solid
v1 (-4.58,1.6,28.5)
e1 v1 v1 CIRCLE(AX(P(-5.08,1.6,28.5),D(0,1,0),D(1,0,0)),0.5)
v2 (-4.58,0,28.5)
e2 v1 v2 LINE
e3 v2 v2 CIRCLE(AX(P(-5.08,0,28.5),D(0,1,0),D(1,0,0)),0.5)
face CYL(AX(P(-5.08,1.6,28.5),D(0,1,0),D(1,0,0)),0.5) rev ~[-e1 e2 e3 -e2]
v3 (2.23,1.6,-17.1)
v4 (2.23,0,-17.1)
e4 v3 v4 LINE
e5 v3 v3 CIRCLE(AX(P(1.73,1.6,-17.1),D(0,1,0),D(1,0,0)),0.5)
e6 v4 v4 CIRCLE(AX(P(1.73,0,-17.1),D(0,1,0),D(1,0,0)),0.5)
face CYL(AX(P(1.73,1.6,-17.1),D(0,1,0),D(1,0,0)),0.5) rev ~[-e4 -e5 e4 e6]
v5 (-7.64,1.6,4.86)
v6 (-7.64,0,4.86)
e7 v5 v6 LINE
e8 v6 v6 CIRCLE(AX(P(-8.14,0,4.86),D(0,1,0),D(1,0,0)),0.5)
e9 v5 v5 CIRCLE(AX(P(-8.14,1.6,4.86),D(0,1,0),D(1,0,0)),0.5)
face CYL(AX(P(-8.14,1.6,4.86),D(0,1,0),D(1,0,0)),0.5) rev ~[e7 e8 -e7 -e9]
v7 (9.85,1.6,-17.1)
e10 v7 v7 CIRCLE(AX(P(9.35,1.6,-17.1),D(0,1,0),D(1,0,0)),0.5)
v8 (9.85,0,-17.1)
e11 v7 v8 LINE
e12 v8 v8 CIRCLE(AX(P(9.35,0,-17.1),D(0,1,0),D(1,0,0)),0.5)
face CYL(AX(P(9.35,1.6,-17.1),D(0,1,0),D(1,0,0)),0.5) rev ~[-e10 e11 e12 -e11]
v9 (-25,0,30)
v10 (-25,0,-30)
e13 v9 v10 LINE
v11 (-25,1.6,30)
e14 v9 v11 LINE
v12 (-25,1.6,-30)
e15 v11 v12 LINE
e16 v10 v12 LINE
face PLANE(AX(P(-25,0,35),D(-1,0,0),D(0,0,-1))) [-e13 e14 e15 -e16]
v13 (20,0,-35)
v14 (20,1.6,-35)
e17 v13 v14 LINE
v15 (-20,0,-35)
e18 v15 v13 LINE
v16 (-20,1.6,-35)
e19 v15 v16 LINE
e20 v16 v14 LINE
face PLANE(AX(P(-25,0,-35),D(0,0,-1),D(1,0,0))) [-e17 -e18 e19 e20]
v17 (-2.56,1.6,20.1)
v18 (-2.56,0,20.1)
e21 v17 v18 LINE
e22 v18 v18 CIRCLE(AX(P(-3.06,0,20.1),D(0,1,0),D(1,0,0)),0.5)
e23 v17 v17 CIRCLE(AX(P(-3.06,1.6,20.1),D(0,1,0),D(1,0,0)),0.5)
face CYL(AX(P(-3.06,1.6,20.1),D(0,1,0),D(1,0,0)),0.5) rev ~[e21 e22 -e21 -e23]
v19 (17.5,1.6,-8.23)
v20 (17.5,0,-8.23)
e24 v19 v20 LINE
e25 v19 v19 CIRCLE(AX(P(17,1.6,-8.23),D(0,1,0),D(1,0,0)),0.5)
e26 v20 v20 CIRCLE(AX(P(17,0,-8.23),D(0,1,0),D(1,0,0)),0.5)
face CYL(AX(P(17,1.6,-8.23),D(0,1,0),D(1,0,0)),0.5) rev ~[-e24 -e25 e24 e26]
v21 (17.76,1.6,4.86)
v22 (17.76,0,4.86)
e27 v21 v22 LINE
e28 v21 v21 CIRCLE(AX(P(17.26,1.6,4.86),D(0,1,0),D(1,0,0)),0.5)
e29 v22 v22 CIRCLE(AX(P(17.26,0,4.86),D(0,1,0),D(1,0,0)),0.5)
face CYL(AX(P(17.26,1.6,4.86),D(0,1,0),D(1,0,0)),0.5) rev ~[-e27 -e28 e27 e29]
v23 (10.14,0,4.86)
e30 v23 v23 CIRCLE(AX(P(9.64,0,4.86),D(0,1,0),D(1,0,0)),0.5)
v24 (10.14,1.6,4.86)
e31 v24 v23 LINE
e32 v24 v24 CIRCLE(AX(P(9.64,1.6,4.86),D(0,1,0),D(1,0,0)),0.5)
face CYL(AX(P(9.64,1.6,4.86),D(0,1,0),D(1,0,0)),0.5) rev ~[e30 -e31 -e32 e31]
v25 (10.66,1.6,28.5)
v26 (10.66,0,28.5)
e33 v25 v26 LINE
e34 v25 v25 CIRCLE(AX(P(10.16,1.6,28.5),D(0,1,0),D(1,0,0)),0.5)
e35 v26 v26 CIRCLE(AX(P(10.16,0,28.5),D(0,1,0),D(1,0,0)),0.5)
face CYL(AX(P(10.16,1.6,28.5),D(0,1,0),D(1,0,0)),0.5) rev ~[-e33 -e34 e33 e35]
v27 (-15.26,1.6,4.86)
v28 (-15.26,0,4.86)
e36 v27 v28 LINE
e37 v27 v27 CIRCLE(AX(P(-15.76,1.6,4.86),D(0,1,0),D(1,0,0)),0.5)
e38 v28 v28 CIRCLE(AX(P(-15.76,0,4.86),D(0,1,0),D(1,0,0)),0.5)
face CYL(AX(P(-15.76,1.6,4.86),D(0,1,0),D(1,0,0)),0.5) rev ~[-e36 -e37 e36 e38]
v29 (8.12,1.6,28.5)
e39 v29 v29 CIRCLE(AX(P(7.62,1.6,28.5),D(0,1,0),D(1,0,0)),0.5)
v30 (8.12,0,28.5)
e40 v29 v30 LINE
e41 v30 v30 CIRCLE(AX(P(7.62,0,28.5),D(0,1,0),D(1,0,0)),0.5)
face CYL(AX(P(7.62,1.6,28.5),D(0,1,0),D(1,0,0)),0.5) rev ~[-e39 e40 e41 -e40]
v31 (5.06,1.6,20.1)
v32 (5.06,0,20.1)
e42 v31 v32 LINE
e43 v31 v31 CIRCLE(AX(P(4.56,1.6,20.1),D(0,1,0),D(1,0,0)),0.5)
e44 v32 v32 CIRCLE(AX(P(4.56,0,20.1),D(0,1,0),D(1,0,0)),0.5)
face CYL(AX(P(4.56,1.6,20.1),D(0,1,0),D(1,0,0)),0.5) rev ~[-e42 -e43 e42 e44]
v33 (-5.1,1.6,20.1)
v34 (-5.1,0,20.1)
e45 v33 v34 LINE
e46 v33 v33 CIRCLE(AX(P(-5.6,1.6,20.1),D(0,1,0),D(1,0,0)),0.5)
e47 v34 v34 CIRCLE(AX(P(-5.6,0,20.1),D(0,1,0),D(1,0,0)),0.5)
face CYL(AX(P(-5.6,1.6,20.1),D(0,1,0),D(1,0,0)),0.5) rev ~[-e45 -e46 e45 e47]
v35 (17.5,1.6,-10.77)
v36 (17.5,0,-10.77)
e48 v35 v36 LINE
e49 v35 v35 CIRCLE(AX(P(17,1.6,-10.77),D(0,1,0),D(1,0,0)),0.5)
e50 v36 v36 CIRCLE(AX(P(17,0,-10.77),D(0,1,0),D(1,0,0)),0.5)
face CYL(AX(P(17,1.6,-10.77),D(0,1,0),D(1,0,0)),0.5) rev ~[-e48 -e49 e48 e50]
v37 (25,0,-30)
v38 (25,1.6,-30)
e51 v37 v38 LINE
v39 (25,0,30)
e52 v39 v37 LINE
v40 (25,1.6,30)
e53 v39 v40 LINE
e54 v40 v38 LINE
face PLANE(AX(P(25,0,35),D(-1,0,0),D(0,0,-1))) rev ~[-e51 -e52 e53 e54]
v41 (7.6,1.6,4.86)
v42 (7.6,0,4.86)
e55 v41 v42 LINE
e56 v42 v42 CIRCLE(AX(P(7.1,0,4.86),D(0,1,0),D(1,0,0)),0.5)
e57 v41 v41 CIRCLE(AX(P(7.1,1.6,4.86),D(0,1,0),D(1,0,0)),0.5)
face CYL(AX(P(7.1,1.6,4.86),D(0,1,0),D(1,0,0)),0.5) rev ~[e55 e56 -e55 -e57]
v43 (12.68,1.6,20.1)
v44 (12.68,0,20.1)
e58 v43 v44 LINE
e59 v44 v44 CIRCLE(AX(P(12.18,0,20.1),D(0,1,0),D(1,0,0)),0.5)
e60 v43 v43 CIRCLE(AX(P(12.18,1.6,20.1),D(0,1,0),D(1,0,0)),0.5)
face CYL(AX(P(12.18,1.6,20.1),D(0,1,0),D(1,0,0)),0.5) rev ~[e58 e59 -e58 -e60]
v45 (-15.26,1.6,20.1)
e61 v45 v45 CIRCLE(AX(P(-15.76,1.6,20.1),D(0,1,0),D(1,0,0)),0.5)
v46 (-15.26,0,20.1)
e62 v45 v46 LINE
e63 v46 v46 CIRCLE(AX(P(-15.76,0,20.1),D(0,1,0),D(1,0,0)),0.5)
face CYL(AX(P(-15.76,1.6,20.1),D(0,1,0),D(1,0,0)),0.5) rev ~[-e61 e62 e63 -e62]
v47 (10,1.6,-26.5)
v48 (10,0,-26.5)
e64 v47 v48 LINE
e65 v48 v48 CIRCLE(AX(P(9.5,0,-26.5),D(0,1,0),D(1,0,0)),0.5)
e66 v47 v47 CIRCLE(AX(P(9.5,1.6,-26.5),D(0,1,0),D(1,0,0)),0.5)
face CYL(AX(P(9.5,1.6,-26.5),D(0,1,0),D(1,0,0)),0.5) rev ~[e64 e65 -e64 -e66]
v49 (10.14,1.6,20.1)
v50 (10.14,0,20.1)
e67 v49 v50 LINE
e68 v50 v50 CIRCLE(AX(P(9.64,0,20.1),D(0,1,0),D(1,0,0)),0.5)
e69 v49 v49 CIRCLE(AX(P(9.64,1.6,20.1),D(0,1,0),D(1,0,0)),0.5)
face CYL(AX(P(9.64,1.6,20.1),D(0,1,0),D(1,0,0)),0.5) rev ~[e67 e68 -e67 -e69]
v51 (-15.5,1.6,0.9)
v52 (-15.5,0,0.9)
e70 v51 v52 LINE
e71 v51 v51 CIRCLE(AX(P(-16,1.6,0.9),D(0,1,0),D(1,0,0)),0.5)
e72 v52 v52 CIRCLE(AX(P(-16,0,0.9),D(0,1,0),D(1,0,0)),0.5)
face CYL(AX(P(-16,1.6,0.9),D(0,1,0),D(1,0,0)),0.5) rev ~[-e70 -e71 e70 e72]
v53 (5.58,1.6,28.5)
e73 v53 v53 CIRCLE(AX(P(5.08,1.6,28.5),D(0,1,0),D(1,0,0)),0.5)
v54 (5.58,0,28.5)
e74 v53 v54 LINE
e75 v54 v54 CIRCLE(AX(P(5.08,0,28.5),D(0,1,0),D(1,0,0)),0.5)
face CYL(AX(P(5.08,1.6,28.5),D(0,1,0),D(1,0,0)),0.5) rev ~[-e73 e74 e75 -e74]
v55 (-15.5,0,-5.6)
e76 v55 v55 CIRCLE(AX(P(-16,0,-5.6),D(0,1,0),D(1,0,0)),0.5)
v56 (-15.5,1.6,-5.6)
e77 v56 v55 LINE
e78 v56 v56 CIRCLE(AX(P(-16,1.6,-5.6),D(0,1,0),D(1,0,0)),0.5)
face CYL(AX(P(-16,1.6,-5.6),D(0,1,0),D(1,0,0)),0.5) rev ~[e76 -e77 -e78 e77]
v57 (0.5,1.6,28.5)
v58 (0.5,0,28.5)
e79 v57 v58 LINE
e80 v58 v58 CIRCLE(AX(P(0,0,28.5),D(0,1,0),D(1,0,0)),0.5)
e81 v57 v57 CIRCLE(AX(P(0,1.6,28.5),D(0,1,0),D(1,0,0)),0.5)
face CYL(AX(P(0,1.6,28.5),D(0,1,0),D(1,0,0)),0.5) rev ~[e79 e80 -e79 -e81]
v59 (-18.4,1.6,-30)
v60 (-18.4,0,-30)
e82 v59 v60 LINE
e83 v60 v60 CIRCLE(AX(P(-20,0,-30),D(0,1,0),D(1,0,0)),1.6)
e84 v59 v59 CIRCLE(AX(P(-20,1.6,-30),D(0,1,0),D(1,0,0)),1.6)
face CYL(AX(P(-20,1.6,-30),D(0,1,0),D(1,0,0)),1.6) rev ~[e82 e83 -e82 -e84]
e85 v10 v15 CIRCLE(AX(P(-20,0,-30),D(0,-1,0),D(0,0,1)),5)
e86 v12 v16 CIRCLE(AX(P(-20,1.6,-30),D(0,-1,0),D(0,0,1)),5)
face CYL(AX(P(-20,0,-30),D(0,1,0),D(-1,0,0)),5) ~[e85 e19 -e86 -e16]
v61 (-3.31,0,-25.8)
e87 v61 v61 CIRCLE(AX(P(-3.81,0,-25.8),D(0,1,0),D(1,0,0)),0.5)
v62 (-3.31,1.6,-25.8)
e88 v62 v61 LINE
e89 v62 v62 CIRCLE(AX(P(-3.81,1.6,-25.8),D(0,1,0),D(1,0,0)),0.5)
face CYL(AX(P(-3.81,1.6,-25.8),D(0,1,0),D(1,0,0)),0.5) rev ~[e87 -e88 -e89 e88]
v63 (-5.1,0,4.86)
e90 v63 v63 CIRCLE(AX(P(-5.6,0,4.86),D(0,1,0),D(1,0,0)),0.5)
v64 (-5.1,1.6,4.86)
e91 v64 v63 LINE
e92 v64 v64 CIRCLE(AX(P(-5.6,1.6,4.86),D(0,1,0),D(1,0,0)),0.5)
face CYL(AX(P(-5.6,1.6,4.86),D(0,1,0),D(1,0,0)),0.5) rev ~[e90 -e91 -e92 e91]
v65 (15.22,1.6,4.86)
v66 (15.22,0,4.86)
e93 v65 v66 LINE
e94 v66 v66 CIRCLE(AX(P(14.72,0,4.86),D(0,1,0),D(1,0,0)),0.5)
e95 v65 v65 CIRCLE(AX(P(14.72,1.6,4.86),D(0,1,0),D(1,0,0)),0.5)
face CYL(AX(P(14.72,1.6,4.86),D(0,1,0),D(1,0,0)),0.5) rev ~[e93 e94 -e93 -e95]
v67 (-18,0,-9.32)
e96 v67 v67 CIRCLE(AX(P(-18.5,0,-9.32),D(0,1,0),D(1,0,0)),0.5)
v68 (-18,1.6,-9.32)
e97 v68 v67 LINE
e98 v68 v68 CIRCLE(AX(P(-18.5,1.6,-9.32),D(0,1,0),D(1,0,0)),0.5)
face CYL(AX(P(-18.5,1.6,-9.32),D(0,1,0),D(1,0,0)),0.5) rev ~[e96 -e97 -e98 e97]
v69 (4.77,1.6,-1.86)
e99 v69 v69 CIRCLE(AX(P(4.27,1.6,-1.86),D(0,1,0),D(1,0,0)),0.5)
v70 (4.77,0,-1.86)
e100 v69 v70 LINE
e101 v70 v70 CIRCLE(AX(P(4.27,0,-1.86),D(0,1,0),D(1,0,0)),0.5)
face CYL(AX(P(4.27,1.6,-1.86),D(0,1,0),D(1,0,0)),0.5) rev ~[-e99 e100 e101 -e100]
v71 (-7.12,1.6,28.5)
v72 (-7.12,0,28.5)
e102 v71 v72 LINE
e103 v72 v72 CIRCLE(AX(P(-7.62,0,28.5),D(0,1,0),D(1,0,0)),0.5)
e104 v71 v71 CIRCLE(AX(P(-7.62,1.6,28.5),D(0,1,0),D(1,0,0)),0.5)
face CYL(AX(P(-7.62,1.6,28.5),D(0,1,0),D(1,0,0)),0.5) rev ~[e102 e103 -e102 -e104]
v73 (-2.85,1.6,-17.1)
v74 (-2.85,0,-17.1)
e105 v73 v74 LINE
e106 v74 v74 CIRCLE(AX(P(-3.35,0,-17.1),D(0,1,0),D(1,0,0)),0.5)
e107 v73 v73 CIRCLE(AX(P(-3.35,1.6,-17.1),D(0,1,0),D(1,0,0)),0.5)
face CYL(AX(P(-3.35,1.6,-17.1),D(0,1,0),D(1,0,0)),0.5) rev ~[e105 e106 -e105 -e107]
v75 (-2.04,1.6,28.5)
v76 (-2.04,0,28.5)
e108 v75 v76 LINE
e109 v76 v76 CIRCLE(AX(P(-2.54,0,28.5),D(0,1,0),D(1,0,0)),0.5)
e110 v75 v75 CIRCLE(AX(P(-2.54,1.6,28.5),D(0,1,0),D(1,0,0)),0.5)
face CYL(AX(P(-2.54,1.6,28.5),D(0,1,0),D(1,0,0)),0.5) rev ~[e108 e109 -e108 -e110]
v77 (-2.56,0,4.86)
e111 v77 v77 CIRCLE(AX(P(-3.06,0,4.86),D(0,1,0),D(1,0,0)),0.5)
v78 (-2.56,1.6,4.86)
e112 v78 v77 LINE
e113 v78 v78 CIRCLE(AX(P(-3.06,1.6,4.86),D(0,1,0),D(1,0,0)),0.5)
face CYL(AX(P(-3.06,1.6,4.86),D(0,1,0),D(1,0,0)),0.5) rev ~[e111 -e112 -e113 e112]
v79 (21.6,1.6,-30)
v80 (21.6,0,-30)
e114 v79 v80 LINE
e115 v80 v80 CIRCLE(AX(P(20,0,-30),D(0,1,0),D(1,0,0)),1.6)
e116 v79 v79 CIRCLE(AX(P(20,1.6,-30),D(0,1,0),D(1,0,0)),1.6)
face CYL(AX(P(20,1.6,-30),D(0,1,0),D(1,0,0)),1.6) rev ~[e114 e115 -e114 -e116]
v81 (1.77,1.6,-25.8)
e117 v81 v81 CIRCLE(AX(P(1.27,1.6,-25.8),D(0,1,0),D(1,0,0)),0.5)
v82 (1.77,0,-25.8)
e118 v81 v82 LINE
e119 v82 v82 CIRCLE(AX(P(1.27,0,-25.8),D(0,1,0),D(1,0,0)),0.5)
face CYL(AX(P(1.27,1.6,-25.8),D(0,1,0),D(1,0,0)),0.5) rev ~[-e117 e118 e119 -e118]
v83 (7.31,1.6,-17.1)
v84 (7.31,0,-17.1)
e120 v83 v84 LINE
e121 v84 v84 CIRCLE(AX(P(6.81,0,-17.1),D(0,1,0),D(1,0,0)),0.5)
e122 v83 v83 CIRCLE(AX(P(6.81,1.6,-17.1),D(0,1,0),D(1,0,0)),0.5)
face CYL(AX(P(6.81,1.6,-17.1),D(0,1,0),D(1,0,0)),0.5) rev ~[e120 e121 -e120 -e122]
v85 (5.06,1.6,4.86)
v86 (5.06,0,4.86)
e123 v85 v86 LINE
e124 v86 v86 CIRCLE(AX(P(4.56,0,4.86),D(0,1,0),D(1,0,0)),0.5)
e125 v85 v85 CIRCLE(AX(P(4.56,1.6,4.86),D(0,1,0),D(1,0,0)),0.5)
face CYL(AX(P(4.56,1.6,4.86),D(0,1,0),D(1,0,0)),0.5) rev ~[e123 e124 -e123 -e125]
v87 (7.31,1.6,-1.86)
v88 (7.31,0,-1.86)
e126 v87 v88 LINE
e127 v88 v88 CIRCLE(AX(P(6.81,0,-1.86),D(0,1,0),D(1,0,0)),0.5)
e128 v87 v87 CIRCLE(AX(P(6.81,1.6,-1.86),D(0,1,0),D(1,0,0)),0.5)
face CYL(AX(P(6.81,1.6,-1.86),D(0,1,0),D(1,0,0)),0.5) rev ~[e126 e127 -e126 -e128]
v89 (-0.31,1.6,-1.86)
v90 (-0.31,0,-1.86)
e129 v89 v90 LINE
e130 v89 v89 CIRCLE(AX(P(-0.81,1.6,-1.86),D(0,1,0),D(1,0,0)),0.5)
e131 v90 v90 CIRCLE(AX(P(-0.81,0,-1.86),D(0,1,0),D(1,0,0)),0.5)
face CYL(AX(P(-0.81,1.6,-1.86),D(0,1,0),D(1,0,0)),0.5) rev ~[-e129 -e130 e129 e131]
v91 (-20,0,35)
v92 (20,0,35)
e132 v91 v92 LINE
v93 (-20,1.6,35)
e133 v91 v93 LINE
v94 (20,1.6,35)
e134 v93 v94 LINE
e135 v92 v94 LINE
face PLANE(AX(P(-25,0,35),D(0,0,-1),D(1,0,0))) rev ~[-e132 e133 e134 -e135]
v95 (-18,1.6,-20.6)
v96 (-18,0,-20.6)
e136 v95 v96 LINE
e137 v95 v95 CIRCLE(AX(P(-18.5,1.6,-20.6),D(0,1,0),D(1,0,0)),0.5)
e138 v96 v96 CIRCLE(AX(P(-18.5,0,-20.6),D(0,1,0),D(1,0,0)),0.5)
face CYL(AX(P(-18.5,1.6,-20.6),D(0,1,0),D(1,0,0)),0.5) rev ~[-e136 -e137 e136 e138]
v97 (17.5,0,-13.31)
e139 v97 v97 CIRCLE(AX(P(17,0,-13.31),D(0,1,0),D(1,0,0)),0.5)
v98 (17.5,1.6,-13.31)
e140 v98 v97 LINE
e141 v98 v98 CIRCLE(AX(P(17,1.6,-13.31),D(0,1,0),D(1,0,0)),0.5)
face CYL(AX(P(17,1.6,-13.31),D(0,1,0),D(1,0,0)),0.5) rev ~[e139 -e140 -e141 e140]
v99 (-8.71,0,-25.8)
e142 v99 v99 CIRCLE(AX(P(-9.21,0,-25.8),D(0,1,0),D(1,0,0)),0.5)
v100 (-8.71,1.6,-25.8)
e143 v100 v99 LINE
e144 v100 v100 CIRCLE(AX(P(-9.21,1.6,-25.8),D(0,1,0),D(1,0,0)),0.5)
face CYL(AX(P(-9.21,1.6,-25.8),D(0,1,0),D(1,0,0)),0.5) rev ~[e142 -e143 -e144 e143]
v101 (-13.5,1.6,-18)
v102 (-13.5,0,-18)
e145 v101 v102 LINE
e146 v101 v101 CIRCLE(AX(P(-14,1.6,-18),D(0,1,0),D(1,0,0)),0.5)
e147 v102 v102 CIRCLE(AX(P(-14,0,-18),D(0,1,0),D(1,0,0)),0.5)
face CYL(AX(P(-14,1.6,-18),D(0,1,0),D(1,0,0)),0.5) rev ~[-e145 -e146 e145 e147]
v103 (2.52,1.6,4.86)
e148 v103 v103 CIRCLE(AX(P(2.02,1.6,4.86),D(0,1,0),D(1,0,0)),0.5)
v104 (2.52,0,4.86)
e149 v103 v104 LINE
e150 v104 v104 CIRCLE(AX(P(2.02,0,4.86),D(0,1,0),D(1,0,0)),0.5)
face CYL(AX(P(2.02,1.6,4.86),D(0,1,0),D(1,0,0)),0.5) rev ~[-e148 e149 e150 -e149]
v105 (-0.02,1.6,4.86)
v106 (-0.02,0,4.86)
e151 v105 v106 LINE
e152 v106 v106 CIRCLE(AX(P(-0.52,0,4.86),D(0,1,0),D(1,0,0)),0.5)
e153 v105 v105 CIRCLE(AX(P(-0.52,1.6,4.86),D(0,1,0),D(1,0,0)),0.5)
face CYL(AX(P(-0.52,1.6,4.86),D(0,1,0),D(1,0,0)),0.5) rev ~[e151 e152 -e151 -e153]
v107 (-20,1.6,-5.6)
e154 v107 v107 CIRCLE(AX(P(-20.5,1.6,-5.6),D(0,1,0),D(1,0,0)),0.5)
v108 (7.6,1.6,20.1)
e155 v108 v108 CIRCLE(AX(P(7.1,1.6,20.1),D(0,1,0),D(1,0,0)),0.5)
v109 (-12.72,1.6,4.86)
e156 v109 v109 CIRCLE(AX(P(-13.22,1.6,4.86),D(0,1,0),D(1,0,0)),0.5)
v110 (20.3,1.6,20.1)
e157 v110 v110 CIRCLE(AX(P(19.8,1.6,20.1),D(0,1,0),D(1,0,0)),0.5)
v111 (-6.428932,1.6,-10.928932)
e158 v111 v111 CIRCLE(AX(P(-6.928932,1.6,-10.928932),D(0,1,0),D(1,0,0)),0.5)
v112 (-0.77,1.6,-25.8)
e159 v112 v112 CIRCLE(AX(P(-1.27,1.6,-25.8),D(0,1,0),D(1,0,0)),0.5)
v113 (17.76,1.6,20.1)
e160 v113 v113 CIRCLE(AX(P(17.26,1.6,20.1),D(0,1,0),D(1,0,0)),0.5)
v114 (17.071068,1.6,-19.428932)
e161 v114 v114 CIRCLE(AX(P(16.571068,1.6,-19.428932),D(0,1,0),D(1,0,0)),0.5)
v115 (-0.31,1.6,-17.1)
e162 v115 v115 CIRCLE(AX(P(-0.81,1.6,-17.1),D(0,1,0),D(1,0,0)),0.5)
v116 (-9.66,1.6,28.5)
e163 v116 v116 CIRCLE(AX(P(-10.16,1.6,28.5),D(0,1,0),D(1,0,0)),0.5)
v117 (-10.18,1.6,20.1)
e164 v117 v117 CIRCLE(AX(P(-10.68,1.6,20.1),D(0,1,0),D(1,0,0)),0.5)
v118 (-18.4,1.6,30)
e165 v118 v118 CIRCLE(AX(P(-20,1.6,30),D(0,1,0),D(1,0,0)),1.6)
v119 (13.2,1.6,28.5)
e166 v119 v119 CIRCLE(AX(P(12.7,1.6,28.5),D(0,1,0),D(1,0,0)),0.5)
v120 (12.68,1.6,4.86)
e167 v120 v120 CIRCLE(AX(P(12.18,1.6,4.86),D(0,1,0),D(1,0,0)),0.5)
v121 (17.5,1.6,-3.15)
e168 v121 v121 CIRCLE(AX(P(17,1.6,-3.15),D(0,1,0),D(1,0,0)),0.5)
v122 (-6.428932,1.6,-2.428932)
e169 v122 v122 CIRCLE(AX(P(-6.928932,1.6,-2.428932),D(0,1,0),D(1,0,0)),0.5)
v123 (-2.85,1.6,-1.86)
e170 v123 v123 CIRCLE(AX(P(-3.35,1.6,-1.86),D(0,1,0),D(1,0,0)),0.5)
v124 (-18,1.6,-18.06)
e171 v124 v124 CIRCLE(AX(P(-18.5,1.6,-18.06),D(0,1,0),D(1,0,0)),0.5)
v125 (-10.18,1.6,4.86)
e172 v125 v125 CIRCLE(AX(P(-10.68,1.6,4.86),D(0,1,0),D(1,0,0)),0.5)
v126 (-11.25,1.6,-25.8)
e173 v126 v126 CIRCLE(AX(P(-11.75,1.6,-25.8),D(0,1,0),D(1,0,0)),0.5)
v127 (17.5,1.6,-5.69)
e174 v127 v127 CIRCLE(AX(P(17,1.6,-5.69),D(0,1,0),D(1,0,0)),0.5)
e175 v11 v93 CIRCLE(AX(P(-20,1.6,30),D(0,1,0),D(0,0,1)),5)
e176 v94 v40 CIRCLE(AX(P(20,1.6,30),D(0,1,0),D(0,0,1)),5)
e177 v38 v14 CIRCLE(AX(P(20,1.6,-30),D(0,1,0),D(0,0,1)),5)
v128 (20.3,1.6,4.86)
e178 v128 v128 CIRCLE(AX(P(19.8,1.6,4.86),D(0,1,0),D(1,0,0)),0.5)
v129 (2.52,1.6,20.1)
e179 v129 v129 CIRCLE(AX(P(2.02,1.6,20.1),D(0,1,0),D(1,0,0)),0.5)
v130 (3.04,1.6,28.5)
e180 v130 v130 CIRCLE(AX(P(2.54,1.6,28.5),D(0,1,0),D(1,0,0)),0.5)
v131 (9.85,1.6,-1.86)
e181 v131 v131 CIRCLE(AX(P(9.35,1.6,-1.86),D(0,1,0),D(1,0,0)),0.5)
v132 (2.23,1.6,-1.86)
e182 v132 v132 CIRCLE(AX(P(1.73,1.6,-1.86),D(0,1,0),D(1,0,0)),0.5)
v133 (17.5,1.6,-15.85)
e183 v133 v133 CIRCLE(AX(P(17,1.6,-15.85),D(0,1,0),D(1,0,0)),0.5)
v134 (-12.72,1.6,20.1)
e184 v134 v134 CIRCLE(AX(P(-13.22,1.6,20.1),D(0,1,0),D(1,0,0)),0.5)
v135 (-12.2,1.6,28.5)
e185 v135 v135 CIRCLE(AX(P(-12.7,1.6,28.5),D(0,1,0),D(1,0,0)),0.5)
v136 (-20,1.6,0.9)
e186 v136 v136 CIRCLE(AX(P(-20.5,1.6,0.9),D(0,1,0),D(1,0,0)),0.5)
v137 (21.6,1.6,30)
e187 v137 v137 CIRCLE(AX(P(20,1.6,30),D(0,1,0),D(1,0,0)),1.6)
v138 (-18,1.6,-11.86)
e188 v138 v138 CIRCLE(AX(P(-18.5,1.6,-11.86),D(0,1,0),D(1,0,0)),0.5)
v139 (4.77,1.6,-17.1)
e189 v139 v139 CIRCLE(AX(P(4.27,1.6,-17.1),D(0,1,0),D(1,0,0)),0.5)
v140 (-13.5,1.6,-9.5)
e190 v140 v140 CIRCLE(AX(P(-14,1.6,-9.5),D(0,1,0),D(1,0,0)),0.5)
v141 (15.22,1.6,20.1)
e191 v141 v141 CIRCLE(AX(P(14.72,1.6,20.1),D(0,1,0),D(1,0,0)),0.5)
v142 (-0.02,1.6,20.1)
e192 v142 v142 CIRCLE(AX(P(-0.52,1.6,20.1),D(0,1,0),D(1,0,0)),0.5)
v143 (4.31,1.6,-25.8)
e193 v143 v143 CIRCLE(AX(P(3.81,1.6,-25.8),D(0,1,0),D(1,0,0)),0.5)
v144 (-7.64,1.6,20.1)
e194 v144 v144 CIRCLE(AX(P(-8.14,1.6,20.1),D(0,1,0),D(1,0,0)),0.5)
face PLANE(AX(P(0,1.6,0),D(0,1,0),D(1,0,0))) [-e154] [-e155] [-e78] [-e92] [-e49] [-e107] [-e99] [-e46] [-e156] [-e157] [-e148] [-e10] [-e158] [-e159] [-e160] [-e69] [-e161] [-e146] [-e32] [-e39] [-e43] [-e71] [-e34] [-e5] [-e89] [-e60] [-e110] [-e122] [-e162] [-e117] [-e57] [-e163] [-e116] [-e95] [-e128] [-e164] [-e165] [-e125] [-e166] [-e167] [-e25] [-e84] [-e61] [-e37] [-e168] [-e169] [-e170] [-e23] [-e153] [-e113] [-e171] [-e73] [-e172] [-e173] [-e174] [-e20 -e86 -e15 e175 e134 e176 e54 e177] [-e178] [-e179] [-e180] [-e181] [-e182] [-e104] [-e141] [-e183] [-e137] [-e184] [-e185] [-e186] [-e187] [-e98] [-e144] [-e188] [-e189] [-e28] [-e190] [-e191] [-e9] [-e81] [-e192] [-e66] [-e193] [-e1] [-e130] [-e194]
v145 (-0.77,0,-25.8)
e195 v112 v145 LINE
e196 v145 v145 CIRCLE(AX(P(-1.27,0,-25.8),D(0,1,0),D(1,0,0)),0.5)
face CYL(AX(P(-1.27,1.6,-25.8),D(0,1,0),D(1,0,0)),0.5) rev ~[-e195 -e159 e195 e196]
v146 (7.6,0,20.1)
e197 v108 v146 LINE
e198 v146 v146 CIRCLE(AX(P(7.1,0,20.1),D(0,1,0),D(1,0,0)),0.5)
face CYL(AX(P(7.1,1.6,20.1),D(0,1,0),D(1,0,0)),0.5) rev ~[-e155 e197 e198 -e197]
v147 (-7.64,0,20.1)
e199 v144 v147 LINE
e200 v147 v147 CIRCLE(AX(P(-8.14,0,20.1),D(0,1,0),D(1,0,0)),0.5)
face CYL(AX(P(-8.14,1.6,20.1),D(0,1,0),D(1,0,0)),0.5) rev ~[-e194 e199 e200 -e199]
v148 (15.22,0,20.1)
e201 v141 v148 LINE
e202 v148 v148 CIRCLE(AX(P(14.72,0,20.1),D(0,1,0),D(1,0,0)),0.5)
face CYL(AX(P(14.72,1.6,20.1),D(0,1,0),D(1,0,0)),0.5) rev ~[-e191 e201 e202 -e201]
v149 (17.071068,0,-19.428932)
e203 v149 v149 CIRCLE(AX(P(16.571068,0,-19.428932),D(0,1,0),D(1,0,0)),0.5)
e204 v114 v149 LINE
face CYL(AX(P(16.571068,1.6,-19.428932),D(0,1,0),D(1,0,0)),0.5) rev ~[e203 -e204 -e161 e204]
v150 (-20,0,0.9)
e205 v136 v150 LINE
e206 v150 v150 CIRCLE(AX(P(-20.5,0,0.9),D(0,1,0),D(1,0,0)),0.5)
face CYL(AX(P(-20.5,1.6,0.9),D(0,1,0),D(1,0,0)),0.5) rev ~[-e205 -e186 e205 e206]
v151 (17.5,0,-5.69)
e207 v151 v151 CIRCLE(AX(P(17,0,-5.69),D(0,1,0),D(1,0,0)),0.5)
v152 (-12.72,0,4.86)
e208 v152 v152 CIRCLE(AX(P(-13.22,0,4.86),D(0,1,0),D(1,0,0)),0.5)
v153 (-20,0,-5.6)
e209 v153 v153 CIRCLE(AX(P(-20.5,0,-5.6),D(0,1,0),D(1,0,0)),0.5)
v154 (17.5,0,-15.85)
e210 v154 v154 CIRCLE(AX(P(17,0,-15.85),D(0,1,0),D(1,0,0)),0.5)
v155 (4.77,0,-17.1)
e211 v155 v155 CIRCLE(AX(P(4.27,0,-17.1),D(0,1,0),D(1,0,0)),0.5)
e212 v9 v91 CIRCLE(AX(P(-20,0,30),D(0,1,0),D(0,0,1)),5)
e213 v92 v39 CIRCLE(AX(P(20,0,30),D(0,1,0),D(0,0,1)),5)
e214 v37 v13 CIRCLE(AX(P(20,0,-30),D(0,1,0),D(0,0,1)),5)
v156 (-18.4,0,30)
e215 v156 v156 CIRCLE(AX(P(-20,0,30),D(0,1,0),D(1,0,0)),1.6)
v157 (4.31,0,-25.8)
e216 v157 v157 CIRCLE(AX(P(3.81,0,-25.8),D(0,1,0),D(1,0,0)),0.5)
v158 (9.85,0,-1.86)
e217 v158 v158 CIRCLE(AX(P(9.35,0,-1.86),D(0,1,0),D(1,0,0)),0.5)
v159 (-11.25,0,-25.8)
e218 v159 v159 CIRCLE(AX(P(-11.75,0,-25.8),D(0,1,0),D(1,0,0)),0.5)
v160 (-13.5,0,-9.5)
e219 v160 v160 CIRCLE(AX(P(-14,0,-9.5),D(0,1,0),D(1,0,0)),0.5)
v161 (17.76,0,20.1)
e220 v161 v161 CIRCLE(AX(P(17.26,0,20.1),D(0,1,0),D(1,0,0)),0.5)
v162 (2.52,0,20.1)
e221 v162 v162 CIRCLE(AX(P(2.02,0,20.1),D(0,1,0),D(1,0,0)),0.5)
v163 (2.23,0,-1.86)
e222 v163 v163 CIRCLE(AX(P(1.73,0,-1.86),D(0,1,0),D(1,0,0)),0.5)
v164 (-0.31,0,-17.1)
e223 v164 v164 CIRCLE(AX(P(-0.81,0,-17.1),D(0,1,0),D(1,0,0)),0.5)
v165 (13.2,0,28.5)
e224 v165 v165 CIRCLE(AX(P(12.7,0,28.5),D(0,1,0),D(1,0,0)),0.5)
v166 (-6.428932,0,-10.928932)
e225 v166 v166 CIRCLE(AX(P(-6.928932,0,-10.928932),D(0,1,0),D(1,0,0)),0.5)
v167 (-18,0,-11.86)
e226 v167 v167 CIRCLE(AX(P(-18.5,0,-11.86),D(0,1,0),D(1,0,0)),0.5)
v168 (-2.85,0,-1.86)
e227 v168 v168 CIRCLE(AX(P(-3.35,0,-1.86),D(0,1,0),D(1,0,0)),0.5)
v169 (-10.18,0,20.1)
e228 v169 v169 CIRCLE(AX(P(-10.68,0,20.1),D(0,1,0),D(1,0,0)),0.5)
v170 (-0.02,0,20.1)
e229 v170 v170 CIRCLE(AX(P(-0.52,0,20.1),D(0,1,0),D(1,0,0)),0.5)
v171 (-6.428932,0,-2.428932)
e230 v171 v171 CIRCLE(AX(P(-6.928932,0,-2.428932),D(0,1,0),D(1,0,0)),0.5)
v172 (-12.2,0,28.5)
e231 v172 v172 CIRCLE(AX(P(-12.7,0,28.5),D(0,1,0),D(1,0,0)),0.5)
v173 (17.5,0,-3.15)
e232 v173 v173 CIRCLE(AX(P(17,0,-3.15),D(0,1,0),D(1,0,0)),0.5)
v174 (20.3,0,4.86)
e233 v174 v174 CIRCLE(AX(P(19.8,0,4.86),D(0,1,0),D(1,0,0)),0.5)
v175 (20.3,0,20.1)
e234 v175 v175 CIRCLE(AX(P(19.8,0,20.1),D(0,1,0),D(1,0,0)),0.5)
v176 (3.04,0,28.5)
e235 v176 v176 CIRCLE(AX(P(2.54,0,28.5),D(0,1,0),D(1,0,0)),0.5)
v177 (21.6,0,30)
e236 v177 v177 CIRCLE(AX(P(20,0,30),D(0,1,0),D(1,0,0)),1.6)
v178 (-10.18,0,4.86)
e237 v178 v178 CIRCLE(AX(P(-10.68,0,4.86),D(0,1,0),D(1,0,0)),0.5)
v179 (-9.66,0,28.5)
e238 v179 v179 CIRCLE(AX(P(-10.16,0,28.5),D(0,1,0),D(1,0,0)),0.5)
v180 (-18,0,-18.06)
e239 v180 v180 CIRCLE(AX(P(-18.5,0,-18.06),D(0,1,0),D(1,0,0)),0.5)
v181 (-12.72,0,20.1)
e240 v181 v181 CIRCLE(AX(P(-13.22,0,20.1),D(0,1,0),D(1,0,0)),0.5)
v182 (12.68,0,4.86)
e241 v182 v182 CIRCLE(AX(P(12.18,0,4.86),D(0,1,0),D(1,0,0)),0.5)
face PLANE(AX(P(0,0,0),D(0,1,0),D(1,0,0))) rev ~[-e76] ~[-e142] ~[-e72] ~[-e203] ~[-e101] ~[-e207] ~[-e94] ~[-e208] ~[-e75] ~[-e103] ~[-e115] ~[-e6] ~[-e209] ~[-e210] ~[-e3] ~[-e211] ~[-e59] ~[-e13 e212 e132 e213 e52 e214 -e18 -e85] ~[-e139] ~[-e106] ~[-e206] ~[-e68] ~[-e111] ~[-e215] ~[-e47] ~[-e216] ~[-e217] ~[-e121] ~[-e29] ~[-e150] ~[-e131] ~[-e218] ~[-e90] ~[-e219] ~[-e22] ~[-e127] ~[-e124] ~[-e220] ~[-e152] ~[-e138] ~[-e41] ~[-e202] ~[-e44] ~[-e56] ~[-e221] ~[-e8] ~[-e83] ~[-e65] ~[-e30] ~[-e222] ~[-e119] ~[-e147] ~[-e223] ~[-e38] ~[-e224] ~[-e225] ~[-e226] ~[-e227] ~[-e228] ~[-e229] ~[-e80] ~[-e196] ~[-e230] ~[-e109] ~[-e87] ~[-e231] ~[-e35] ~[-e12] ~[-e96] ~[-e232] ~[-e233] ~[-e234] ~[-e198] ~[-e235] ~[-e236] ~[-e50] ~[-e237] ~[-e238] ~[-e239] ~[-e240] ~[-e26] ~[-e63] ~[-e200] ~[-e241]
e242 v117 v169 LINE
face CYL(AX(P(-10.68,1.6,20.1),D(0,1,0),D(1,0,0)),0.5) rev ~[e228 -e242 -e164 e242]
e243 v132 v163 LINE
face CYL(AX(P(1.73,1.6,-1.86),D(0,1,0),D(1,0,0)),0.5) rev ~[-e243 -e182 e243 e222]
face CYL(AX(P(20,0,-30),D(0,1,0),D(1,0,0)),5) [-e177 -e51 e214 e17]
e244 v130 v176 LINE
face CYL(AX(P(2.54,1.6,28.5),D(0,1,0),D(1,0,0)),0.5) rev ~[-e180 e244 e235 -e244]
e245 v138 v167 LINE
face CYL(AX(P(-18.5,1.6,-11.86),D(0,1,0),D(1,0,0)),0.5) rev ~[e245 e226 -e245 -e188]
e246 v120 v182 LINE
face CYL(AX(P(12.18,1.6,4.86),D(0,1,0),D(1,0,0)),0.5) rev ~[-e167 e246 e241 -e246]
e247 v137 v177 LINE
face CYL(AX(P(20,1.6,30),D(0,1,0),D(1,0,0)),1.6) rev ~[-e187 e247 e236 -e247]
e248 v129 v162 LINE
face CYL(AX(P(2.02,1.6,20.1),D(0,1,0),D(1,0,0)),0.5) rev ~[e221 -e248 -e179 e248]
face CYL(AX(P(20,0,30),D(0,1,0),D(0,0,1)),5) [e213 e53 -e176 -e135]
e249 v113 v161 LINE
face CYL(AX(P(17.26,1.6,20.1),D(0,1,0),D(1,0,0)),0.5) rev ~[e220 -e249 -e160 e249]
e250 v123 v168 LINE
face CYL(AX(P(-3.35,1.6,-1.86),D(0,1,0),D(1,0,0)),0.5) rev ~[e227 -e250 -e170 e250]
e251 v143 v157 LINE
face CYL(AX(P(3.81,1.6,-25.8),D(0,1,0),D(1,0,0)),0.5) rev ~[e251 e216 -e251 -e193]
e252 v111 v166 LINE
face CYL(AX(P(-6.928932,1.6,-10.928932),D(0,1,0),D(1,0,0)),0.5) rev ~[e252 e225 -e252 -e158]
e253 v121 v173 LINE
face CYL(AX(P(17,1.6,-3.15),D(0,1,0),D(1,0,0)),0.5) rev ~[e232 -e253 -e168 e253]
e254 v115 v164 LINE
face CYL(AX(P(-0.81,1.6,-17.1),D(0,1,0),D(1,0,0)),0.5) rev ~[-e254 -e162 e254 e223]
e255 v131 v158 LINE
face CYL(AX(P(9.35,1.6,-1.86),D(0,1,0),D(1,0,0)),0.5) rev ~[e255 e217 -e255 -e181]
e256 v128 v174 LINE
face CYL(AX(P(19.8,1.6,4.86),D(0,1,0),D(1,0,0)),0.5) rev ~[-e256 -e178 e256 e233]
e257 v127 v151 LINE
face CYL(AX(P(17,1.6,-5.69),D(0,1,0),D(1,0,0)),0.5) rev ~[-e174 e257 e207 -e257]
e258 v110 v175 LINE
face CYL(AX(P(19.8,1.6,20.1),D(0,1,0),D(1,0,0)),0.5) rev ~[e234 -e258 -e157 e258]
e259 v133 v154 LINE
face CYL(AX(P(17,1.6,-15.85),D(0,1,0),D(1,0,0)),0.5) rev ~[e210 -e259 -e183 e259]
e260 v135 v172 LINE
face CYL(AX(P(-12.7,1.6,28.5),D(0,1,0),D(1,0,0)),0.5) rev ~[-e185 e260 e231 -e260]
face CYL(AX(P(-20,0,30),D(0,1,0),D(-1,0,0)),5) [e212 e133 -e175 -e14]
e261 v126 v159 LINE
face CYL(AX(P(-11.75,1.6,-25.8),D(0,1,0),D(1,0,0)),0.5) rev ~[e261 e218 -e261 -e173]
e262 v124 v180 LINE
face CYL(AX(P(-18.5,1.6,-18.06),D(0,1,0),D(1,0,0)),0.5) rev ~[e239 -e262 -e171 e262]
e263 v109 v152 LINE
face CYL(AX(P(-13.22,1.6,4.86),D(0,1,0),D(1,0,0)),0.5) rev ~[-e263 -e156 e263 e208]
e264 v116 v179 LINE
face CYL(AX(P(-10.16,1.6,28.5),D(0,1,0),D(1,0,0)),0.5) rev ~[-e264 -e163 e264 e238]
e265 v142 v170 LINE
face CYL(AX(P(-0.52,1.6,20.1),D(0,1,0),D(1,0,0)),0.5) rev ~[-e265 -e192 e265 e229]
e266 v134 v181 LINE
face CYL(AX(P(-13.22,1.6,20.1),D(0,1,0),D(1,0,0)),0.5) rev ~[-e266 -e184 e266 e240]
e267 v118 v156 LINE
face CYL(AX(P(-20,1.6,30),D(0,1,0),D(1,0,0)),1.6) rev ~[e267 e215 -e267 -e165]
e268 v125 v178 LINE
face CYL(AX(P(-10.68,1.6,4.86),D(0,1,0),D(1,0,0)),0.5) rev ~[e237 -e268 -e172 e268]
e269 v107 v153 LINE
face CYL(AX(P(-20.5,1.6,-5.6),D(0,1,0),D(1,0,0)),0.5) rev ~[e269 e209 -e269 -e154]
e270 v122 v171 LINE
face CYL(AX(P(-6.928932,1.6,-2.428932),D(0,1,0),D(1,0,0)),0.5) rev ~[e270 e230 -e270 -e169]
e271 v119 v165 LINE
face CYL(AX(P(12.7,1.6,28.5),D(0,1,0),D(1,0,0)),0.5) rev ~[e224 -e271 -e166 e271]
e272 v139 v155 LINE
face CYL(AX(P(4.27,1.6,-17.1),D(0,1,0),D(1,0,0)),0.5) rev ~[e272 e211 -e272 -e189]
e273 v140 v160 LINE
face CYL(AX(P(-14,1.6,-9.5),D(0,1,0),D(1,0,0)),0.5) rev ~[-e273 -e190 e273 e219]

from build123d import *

# Parameters (mm, degrees)
SKETCH1_W           = 50
SKETCH1_H           = 70
BOSS_EXTRUDE1_DEPTH = 1.6
FILLET2_R           = 5
SKETCH2_R           = 1.6
CUT_EXTRUDE1_DEPTH  = 1.6
SKETCH3_R           = 0.5
CUT_EXTRUDE2_DEPTH  = 1.6


with BuildPart() as part:
    # Sketch1 → Boss-Extrude1 (new body)
    with BuildSketch(Plane(origin=(0, 0, 0), x_dir=(1, 0, 0), z_dir=(0, 1, 0))):
        Rectangle(SKETCH1_W, SKETCH1_H)
    extrude(amount=BOSS_EXTRUDE1_DEPTH)

    # Fillet2
    fillet2_edges = [part.edges().sort_by_distance(p)[0] for p in [
        (25, 0.8, 35),
        (-25, 0.8, 35),
        (-25, 0.8, -35),
        (25, 0.8, -35),
    ]]
    fillet(fillet2_edges, radius=FILLET2_R)

    # Sketch2 → Cut-Extrude1 (cut)
    with BuildSketch(Plane(origin=(0, 1.6, 0), x_dir=(1, 0, 0), z_dir=(0, 1, 0))):
        with Locations((-20, 30)):
            Circle(SKETCH2_R)
        with Locations((20, 30)):
            Circle(SKETCH2_R)
        with Locations((20, -30)):
            Circle(SKETCH2_R)
        with Locations((-20, -30)):
            Circle(SKETCH2_R)
    extrude(amount=-CUT_EXTRUDE1_DEPTH, mode=Mode.SUBTRACT)

    # Sketch3 → Cut-Extrude2 (cut)
    with BuildSketch(Plane(origin=(0, 1.6, 0), x_dir=(1, 0, 0), z_dir=(0, 1, 0))):
        with Locations((-3.81, 25.8)):
            Circle(SKETCH3_R)
        with Locations((-1.27, 25.8)):
            Circle(SKETCH3_R)
        with Locations((1.27, 25.8)):
            Circle(SKETCH3_R)
        with Locations((3.81, 25.8)):
            Circle(SKETCH3_R)
        with Locations((-11.75, 25.8)):
            Circle(SKETCH3_R)
        with Locations((-9.21, 25.8)):
            Circle(SKETCH3_R)
        with Locations((-15.76, -20.1)):
            Circle(SKETCH3_R)
        with Locations((-13.22, -20.1)):
            Circle(SKETCH3_R)
        with Locations((-10.68, -20.1)):
            Circle(SKETCH3_R)
        with Locations((-8.14, -20.1)):
            Circle(SKETCH3_R)
        with Locations((-5.6, -20.1)):
            Circle(SKETCH3_R)
        with Locations((-3.06, -20.1)):
            Circle(SKETCH3_R)
        with Locations((-0.52, -20.1)):
            Circle(SKETCH3_R)
        with Locations((2.02, -20.1)):
            Circle(SKETCH3_R)
        with Locations((4.56, -20.1)):
            Circle(SKETCH3_R)
        with Locations((7.1, -20.1)):
            Circle(SKETCH3_R)
        with Locations((9.64, -20.1)):
            Circle(SKETCH3_R)
        with Locations((12.18, -20.1)):
            Circle(SKETCH3_R)
        with Locations((14.72, -20.1)):
            Circle(SKETCH3_R)
        with Locations((17.26, -20.1)):
            Circle(SKETCH3_R)
        with Locations((19.8, -20.1)):
            Circle(SKETCH3_R)
        with Locations((-15.76, -4.86)):
            Circle(SKETCH3_R)
        with Locations((-13.22, -4.86)):
            Circle(SKETCH3_R)
        with Locations((-10.68, -4.86)):
            Circle(SKETCH3_R)
        with Locations((-8.14, -4.86)):
            Circle(SKETCH3_R)
        with Locations((-5.6, -4.86)):
            Circle(SKETCH3_R)
        with Locations((-3.06, -4.86)):
            Circle(SKETCH3_R)
        with Locations((-0.52, -4.86)):
            Circle(SKETCH3_R)
        with Locations((2.02, -4.86)):
            Circle(SKETCH3_R)
        with Locations((4.56, -4.86)):
            Circle(SKETCH3_R)
        with Locations((7.1, -4.86)):
            Circle(SKETCH3_R)
        with Locations((9.64, -4.86)):
            Circle(SKETCH3_R)
        with Locations((12.18, -4.86)):
            Circle(SKETCH3_R)
        with Locations((14.72, -4.86)):
            Circle(SKETCH3_R)
        with Locations((17.26, -4.86)):
            Circle(SKETCH3_R)
        with Locations((19.8, -4.86)):
            Circle(SKETCH3_R)
        with Locations((-3.35, 1.86)):
            Circle(SKETCH3_R)
        with Locations((-0.81, 1.86)):
            Circle(SKETCH3_R)
        with Locations((1.73, 1.86)):
            Circle(SKETCH3_R)
        with Locations((4.27, 1.86)):
            Circle(SKETCH3_R)
        with Locations((6.81, 1.86)):
            Circle(SKETCH3_R)
        with Locations((9.35, 1.86)):
            Circle(SKETCH3_R)
        with Locations((-3.35, 17.1)):
            Circle(SKETCH3_R)
        with Locations((-0.81, 17.1)):
            Circle(SKETCH3_R)
        with Locations((1.73, 17.1)):
            Circle(SKETCH3_R)
        with Locations((4.27, 17.1)):
            Circle(SKETCH3_R)
        with Locations((6.81, 17.1)):
            Circle(SKETCH3_R)
        with Locations((9.35, 17.1)):
            Circle(SKETCH3_R)
        with Locations((-12.7, -28.5)):
            Circle(SKETCH3_R)
        with Locations((-10.16, -28.5)):
            Circle(SKETCH3_R)
        with Locations((-7.62, -28.5)):
            Circle(SKETCH3_R)
        with Locations((-5.08, -28.5)):
            Circle(SKETCH3_R)
        with Locations((-2.54, -28.5)):
            Circle(SKETCH3_R)
        with Locations((0, -28.5)):
            Circle(SKETCH3_R)
        with Locations((2.54, -28.5)):
            Circle(SKETCH3_R)
        with Locations((5.08, -28.5)):
            Circle(SKETCH3_R)
        with Locations((7.62, -28.5)):
            Circle(SKETCH3_R)
        with Locations((10.16, -28.5)):
            Circle(SKETCH3_R)
        with Locations((12.7, -28.5)):
            Circle(SKETCH3_R)
        with Locations((17, 15.85)):
            Circle(SKETCH3_R)
        with Locations((17, 13.31)):
            Circle(SKETCH3_R)
        with Locations((17, 10.77)):
            Circle(SKETCH3_R)
        with Locations((17, 3.15)):
            Circle(SKETCH3_R)
        with Locations((17, 5.69)):
            Circle(SKETCH3_R)
        with Locations((17, 8.23)):
            Circle(SKETCH3_R)
        with Locations((-18.5, 20.6)):
            Circle(SKETCH3_R)
        with Locations((-18.5, 18.06)):
            Circle(SKETCH3_R)
        with Locations((-18.5, 11.86)):
            Circle(SKETCH3_R)
        with Locations((-18.5, 9.32)):
            Circle(SKETCH3_R)
        with Locations((-16, 5.6)):
            Circle(SKETCH3_R)
        with Locations((-16, -0.9)):
            Circle(SKETCH3_R)
        with Locations((-20.5, -0.9)):
            Circle(SKETCH3_R)
        with Locations((-20.5, 5.6)):
            Circle(SKETCH3_R)
        with Locations((9.5, 26.5)):
            Circle(SKETCH3_R)
        with Locations((16.571067812, 19.428932188)):
            Circle(SKETCH3_R)
        with Locations((-6.928932188, 10.928932188)):
            Circle(SKETCH3_R)
        with Locations((-14, 18)):
            Circle(SKETCH3_R)
        with Locations((-14, 9.5)):
            Circle(SKETCH3_R)
        with Locations((-6.928932188, 2.428932188)):
            Circle(SKETCH3_R)
    extrude(amount=-CUT_EXTRUDE2_DEPTH, mode=Mode.SUBTRACT)


solid = part.part
